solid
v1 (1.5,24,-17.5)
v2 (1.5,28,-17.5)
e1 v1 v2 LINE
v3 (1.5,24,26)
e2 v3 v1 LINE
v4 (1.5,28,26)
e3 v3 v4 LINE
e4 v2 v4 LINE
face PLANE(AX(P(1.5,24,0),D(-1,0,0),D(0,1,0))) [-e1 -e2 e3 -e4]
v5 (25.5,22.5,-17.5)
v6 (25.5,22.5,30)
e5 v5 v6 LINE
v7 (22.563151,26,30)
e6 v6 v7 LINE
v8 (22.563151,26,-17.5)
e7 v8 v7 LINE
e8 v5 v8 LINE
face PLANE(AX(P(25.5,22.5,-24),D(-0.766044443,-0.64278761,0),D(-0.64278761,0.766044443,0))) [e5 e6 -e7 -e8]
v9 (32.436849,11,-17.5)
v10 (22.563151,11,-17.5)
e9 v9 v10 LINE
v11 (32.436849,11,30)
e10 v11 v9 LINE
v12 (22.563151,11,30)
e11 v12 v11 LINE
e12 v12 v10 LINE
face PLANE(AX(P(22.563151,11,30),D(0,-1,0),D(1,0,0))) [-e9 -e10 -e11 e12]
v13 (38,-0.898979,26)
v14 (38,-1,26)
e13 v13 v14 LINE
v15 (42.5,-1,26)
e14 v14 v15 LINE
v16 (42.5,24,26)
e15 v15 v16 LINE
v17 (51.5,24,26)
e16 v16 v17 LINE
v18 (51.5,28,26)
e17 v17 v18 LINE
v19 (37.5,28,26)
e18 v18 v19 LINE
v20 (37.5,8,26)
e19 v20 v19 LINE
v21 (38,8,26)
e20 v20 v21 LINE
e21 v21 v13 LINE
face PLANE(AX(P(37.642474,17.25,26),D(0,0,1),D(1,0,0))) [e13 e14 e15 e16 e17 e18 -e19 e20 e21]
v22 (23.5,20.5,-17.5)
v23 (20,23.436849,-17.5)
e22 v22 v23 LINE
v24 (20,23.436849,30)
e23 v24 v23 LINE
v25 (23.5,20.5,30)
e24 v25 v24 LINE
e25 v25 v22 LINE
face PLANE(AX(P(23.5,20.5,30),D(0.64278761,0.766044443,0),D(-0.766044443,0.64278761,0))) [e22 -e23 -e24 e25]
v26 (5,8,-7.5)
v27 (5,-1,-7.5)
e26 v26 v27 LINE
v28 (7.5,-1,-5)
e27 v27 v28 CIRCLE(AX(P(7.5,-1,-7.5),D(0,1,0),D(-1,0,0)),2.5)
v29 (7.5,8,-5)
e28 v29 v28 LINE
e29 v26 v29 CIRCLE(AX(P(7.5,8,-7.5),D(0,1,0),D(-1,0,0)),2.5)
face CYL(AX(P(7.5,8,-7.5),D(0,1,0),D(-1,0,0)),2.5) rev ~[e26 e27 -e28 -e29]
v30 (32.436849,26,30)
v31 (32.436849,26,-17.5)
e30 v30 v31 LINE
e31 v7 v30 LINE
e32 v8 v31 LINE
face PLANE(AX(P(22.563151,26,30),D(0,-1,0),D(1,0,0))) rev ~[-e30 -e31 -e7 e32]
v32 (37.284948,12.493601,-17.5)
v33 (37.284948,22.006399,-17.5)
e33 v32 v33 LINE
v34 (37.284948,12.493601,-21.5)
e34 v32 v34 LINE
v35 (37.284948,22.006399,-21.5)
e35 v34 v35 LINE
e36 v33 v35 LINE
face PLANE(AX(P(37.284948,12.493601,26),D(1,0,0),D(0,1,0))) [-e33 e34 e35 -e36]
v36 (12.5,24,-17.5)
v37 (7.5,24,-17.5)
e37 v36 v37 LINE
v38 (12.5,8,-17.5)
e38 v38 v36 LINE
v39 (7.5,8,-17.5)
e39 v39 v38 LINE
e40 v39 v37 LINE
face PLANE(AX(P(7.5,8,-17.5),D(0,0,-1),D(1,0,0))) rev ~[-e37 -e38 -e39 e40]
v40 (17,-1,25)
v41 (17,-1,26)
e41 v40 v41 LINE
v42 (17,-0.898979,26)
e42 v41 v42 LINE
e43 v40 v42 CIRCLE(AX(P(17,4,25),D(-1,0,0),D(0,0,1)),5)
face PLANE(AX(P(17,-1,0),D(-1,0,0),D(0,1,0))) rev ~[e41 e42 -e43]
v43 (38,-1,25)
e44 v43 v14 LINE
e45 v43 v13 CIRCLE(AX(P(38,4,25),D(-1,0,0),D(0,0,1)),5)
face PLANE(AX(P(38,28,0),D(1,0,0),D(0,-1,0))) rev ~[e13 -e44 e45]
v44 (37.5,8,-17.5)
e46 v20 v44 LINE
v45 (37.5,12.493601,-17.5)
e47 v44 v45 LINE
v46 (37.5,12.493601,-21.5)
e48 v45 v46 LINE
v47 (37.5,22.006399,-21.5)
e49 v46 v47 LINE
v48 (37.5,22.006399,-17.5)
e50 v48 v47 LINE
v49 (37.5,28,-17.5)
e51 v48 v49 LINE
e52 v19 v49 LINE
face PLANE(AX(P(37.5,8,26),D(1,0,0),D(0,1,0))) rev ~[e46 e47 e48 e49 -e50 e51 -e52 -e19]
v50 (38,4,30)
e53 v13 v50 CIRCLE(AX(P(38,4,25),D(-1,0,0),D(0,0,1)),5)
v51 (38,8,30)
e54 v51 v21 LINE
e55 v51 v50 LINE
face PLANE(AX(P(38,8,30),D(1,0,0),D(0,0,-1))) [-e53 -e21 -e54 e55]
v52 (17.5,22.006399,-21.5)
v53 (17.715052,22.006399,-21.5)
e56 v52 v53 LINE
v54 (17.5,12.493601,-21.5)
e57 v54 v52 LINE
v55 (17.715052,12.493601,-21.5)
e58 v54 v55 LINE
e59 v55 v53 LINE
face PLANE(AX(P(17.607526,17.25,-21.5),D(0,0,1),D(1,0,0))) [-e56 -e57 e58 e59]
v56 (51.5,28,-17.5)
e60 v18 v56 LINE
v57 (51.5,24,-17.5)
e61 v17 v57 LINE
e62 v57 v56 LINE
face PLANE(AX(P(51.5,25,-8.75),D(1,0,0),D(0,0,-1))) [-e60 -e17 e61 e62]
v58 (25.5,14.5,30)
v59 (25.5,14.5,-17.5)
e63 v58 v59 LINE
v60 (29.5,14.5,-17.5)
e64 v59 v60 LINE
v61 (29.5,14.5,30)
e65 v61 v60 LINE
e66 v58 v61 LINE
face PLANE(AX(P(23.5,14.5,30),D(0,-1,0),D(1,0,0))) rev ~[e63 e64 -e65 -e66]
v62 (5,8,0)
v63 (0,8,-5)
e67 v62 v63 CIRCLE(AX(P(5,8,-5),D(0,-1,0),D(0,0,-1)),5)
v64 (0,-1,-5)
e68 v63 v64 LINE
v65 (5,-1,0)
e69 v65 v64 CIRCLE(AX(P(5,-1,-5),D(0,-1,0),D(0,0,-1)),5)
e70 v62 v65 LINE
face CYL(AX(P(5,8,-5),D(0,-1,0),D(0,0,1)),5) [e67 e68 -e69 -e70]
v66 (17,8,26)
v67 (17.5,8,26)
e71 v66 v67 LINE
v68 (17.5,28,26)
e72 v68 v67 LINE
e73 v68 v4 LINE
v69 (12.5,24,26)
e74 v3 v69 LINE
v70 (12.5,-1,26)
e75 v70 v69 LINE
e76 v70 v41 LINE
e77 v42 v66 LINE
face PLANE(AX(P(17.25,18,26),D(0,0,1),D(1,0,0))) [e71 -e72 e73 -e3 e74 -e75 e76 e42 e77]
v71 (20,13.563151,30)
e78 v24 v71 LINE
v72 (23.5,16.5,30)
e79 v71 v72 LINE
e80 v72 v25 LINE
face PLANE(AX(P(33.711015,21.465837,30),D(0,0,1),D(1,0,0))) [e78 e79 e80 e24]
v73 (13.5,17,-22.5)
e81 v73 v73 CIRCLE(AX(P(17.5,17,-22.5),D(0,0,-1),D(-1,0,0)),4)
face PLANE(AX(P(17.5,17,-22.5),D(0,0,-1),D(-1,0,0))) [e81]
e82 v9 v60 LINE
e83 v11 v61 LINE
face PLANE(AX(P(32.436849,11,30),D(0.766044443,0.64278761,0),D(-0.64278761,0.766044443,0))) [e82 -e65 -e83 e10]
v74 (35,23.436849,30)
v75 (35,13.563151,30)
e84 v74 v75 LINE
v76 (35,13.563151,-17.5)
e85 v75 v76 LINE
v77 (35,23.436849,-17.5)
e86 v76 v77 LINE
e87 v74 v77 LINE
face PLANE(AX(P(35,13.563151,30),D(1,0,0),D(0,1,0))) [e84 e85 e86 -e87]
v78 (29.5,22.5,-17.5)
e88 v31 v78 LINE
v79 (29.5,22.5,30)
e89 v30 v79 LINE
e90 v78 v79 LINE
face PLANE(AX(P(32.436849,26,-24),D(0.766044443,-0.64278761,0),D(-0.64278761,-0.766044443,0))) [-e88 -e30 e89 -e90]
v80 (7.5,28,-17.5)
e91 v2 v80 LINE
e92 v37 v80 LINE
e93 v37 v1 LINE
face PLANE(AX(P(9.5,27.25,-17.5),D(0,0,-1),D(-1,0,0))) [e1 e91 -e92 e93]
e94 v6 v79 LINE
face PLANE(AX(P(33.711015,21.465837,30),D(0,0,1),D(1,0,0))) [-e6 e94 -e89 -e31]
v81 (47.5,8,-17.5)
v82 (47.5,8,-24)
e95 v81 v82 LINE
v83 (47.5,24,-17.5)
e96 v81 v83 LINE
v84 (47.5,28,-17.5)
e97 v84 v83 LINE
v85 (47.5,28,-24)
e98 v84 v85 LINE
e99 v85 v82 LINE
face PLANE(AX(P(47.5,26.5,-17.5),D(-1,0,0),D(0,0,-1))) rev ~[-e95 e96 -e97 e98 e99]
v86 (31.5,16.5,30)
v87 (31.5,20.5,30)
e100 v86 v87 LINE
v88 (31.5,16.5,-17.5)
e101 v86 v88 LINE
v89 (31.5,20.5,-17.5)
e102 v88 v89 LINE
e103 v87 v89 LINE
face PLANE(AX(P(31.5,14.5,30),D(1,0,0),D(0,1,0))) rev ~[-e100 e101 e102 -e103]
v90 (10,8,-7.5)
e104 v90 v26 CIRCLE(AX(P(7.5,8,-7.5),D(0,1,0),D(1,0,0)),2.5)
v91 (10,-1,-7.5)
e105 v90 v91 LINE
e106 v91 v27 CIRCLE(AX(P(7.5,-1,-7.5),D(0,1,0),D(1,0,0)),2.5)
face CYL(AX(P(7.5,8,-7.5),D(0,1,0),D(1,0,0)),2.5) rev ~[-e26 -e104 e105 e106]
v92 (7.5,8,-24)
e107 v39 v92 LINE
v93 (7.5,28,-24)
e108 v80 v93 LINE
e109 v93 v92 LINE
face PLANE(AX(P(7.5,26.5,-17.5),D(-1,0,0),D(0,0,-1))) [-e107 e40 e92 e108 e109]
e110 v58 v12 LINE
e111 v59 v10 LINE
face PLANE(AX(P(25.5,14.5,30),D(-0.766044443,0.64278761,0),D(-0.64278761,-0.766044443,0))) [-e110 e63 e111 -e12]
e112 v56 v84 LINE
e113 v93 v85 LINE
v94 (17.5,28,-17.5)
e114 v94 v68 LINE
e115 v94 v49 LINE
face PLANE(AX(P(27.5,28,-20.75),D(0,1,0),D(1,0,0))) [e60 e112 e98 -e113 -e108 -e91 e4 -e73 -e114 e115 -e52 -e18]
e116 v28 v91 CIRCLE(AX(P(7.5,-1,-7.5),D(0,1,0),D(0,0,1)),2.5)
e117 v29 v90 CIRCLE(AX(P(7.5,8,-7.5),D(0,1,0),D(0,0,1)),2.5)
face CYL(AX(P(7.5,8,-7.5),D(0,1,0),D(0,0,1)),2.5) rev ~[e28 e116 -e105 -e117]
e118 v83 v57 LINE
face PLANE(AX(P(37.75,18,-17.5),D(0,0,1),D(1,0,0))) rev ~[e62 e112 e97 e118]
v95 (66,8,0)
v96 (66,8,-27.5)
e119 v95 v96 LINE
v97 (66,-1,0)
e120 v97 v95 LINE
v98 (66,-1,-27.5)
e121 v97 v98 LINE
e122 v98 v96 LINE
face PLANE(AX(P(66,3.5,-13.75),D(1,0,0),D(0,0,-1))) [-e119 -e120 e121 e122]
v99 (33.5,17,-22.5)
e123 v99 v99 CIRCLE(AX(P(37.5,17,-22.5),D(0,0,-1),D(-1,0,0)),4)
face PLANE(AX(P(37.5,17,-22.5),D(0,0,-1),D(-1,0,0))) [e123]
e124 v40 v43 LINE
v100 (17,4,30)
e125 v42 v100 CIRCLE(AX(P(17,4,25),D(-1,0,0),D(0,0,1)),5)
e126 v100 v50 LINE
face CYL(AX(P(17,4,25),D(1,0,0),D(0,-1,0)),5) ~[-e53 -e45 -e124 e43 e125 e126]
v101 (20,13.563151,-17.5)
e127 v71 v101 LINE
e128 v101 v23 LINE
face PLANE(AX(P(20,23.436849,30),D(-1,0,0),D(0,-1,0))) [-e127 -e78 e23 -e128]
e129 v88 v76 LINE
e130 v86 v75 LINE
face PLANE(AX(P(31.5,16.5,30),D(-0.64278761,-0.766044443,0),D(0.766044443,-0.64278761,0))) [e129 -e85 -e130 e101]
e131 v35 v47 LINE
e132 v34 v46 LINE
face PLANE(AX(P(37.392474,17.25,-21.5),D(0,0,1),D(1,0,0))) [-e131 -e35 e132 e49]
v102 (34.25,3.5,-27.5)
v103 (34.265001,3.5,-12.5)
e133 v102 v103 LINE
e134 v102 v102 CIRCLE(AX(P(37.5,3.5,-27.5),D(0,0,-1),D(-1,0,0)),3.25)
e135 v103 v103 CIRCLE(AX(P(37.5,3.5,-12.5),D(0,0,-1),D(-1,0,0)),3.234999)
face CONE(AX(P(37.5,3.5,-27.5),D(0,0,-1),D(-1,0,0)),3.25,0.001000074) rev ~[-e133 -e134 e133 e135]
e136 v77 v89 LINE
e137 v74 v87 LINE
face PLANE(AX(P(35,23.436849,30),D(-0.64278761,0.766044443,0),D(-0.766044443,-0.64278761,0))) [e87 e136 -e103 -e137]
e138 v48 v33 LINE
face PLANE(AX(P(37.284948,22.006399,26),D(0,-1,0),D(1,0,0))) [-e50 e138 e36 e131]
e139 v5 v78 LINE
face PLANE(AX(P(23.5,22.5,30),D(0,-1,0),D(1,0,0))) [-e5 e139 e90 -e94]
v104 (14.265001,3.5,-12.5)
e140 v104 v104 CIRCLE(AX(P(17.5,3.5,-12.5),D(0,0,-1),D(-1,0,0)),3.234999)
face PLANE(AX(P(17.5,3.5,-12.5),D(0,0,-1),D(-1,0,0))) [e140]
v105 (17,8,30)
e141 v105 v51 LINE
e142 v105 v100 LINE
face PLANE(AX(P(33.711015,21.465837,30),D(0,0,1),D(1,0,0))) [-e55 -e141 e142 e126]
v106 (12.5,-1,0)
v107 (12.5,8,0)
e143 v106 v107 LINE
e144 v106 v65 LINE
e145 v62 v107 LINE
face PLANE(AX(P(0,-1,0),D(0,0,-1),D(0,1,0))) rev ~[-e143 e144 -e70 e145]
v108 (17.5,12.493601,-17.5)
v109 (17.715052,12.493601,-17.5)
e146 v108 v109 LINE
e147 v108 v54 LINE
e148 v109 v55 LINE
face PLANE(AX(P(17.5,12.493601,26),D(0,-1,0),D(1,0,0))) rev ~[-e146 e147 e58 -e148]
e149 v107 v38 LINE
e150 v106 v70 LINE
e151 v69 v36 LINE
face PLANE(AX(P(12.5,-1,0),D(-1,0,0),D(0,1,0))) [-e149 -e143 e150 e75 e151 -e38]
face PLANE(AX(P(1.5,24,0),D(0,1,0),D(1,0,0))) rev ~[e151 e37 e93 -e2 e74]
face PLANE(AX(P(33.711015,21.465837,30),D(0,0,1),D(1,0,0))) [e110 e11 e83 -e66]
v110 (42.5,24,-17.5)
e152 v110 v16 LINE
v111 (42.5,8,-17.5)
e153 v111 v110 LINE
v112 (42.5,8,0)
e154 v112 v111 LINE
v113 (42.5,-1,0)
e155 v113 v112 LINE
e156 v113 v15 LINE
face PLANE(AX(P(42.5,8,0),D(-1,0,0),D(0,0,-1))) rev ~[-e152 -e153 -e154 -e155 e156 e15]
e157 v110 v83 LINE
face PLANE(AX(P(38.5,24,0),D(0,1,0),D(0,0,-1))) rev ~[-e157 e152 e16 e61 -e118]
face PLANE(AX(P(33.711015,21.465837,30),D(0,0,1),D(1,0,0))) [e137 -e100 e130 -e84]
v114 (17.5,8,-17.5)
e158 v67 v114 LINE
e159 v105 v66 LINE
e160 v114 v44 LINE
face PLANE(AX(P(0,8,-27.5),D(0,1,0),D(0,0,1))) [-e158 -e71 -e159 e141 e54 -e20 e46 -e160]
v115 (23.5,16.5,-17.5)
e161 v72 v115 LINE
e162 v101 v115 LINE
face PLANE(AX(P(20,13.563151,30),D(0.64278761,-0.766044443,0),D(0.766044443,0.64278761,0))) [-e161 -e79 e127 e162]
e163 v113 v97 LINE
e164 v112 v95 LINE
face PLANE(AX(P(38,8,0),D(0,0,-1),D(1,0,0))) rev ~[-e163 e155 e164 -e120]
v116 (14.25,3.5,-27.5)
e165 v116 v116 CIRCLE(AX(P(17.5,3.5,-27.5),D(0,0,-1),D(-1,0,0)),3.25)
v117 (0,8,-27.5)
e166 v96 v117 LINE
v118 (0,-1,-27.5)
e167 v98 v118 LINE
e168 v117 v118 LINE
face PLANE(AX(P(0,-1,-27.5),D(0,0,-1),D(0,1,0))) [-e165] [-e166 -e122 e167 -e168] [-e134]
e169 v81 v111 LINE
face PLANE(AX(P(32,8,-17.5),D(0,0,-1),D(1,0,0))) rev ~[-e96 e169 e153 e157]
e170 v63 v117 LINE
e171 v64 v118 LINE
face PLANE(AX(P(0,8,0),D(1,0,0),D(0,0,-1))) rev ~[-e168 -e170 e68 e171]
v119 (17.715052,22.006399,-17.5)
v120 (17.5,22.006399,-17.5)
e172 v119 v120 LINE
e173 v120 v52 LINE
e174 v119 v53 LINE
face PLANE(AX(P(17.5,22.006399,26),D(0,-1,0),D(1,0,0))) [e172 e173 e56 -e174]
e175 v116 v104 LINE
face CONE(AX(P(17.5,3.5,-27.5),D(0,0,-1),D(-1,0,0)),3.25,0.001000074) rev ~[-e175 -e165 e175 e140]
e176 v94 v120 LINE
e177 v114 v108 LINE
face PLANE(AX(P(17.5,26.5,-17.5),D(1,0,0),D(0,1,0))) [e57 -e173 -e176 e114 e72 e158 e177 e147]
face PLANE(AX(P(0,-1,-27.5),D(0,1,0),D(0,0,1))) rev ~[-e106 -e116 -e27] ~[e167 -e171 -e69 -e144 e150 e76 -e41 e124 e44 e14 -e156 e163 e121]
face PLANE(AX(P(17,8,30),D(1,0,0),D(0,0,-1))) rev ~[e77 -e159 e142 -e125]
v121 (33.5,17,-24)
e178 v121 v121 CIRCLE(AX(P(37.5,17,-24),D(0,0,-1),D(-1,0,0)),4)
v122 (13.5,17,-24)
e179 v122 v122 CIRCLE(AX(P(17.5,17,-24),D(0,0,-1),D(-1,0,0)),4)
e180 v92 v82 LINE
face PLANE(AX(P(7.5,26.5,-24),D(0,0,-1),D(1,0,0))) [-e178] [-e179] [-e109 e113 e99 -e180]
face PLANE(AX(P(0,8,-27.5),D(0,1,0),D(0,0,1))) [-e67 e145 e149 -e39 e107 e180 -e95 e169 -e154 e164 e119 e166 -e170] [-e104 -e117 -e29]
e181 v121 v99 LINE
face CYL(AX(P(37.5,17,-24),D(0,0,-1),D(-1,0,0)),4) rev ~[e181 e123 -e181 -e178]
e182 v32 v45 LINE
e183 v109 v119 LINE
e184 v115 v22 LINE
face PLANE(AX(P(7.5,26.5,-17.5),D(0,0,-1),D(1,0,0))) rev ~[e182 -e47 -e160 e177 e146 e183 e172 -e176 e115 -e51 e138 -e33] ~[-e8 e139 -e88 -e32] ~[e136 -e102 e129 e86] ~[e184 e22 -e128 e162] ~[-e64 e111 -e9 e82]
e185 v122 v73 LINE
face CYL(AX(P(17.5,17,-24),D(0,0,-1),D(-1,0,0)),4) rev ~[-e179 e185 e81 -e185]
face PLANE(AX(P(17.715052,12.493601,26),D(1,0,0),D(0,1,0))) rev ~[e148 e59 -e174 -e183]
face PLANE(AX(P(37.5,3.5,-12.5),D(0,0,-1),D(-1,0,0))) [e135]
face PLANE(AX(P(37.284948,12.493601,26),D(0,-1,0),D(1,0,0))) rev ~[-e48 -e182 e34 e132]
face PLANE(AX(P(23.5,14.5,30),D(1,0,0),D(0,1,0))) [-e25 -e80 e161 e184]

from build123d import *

# Parameters (mm, degrees)
BOSS_EXTRUDE2_DEPTH          = 8
BOSS_EXTRUDE2_DEPTH_BACK     = 1
SKETCH1_R                    = 2.5
CUT_EXTRUDE1_DEPTH           = 79.300702423
CUT_EXTRUDE1_DEPTH_BACK      = 79.300702423
SKETCH2_R                    = 2.5
SKETCH3_R                    = 3.25
CUT_EXTRUDE5_DEPTH           = 15
CUT_EXTRUDE5_DRAFT           = -0.0573
CUT_EXTRUDE5_PROFILE_2_DEPTH = 15
CUT_EXTRUDE5_PROFILE_2_DRAFT = -0.0573
SKETCH5_W                    = 4.5
SKETCH5_H                    = 6.5
BOSS_EXTRUDE3_DEPTH          = 14.5
SKETCH6_R                    = 4
CUT_EXTRUDE4_DEPTH           = 1.5
SKETCH12_W                   = 10.5
SKETCH12_H                   = 30
BOSS_EXTRUDE7_DEPTH          = 9
SKETCH15_W                   = 9
SKETCH15_H                   = 6.5
BOSS_EXTRUDE8_DEPTH          = 3.5
BOSS_EXTRUDE9_DEPTH          = 54
FILLET4_R                    = 5
SKETCH18_W                   = 9.873697418
SKETCH18_H                   = 6.5
BOSS_EXTRUDE11_DEPTH         = 0.5
SKETCH20_W                   = 4
SKETCH20_H                   = 17.5
BOSS_EXTRUDE12_DEPTH         = 18
BOSS_EXTRUDE13_DEPTH         = 11
BOSS_EXTRUDE13_DEPTH_BACK    = 4
SKETCH22_W                   = 17.5
SKETCH22_H                   = 4
SKETCH25_W                   = 2
SKETCH25_H                   = 17.5
BOSS_EXTRUDE14_DEPTH         = 41
SKETCH28_W                   = 41
SKETCH28_H                   = 45
BOSS_EXTRUDE15_DEPTH         = 2
SKETCH29_R                   = 1.75
CUT_EXTRUDE8_DEPTH           = 9
BOSS_EXTRUDE16_DEPTH         = 9
BOSS_EXTRUDE16_DEPTH_BACK    = 4
SKETCH30_W                   = 17.5
SKETCH30_H                   = 2
CUT_EXTRUDE9_DEPTH           = 9
SKETCH32_W                   = 13
SKETCH32_H                   = 4
BOSS_EXTRUDE17_DEPTH         = 23.5
SKETCH33_W                   = 0.5
SKETCH33_H                   = 17.5
BOSS_EXTRUDE18_DEPTH         = 20
SKETCH34_W                   = 4.5
SKETCH34_H                   = 25
SKETCH34_W_2                 = 15.5
SKETCH34_H_2                 = 4
SKETCH34_W_3                 = 9
BOSS_EXTRUDE19_DEPTH         = 26
SKETCH35_W                   = 9.873697418
SKETCH35_H                   = 0.5
BOSS_EXTRUDE20_DEPTH         = 47.5
BOSS_EXTRUDE21_DEPTH         = 47.5
SKETCH38_W                   = 0.419549816
SKETCH38_H                   = 18.5
CUT_EXTRUDE10_DEPTH          = 90.5
SKETCH39_W                   = 4
SKETCH39_H                   = 4
BOSS_EXTRUDE23_DEPTH         = 47.5
SKETCH46_W                   = 22.5
SKETCH46_H                   = 9
SKETCH46_W_2                 = 5
BOSS_EXTRUDE26_DEPTH         = 11.5
SKETCH47_W                   = 27.5
SKETCH47_H                   = 9
BOSS_EXTRUDE27_DEPTH         = 11
SKETCH48_W                   = 5
SKETCH48_H                   = 6.5
BOSS_EXTRUDE31_DEPTH         = 18.5
SKETCH50_R                   = 4
CUT_EXTRUDE11_DEPTH          = 1.5
SKETCH51_W                   = 9.626242636
SKETCH51_H                   = 9.125298808
BOSS_EXTRUDE32_DEPTH         = 1.5
BOSS_EXTRUDE35_DEPTH         = 47.5
SKETCH55_W                   = 9.873697418
SKETCH55_H                   = 0.5
CUT_EXTRUDE12_DEPTH          = 47.5
SKETCH56_W                   = 0.5
SKETCH56_H                   = 20
BOSS_EXTRUDE36_DEPTH         = 43.5
BOSS_EXTRUDE37_DEPTH         = 47.5
SKETCH58_W                   = 0.715052156
SKETCH58_H                   = 9.51279705
CUT_EXTRUDE13_DEPTH          = 4
CUT_EXTRUDE15_DEPTH          = 47.5
SKETCH60_W                   = 0.215052156
SKETCH60_H                   = 9.51279705
CUT_EXTRUDE16_DEPTH          = 47.5
CUT_EXTRUDE17_DEPTH          = 47.5
SKETCH62_W                   = 8
SKETCH62_H                   = 8
CUT_EXTRUDE18_DEPTH          = 47.5
SKETCH63_W                   = 13
SKETCH63_H                   = 4
CUT_EXTRUDE20_DEPTH          = 17
SKETCH64_W                   = 1
SKETCH64_H                   = 1.5
BOSS_EXTRUDE38_DEPTH         = 6.5
CUT_EXTRUDE22_DEPTH          = 9
FILLET6_R                    = 5
BOSS_EXTRUDE39_DEPTH         = 11
BOSS_EXTRUDE39_DEPTH_BACK    = 10
SKETCH67_W                   = 27.5
SKETCH67_H                   = 9
SKETCH68_W                   = 2
SKETCH68_H                   = 45
CUT_EXTRUDE23_DEPTH          = 17
SKETCH69_W                   = 2
SKETCH69_H                   = 41
CUT_EXTRUDE24_DEPTH          = 37
SKETCH70_W                   = 6
SKETCH70_H                   = 2.5
CUT_EXTRUDE25_DEPTH          = 6.5
SKETCH71_W                   = 40
SKETCH71_H                   = 6.5
BOSS_EXTRUDE40_DEPTH         = 1.5


with BuildPart() as part:
    # Sketch1 → Boss-Extrude2 (new, two sides: drawn at the far end of the back side and taken through both)
    with BuildSketch(Plane(origin=(0, 0, 0), x_dir=(1, 0, 0), z_dir=(0, 1, 0)).offset(-BOSS_EXTRUDE2_DEPTH_BACK)):
        with BuildLine():
            Line((5, 0), (50, 0))
            ThreePointArc((50, 0), (53.535533906, 1.464466094), (55, 5))
            Line((55, 5), (55, 50))
            ThreePointArc((55, 50), (53.535533906, 53.535533906), (50, 55))
            Line((50, 55), (5, 55))
            ThreePointArc((5, 55), (1.464466094, 53.535533906), (0, 50))
            Line((0, 50), (0, 5))
            ThreePointArc((0, 5), (1.464466094, 1.464466094), (5, 0))
        make_face()
        with Locations(Location((7.5, 47.5, 0), (0, 0, 270))):
            Circle(SKETCH1_R, mode=Mode.SUBTRACT)
        with Locations(Location((47.5, 47.5, 0), (0, 0, 270))):
            Circle(SKETCH1_R, mode=Mode.SUBTRACT)
        with Locations(Location((47.5, 7.5, 0), (0, 0, 270))):
            Circle(SKETCH1_R, mode=Mode.SUBTRACT)
        with Locations(Location((7.5, 7.5, 0), (0, 0, 270))):
            Circle(SKETCH1_R, mode=Mode.SUBTRACT)
    extrude(amount=BOSS_EXTRUDE2_DEPTH + BOSS_EXTRUDE2_DEPTH_BACK)

    # Sketch2 → Cut-Extrude1 (cut, two sides: drawn at the far end of the back side and taken through both)
    with BuildSketch(Plane(origin=(0, 8, 0), x_dir=(1, 0, 0), z_dir=(0, 1, 0)).offset(-CUT_EXTRUDE1_DEPTH_BACK)):
        with BuildLine():
            Line((0, 50), (0, 27.5))
            Line((0, 27.5), (55, 27.5))
            Line((55, 27.5), (55, 50))
            ThreePointArc((55, 50), (53.535533906, 53.535533906), (50, 55))
            Line((50, 55), (5, 55))
            ThreePointArc((5, 55), (1.464466094, 53.535533906), (0, 50))
        make_face()
        with Locations((7.5, 47.5)):
            Circle(SKETCH2_R, mode=Mode.SUBTRACT)
        with Locations((47.5, 47.5)):
            Circle(SKETCH2_R, mode=Mode.SUBTRACT)
    extrude(amount=CUT_EXTRUDE1_DEPTH + CUT_EXTRUDE1_DEPTH_BACK, mode=Mode.SUBTRACT)


with BuildPart() as cut_extrude5_tool:
    # Sketch3 → Cut-Extrude5 (with draft: the straight prism first)
    with BuildSketch(Plane(origin=(0, 0, -27.5), x_dir=(-1, 0, 0), z_dir=(0, 0, -1))):
        with Locations((-37.5, 3.5)):
            Circle(SKETCH3_R)
    extrude(amount=-CUT_EXTRUDE5_DEPTH)
    # Cut-Extrude5: the draft: its side faces are tilted about the plane it starts from
    cut_extrude5_sides = [cut_extrude5_tool.faces().sort_by_distance(p)[0] for p in [
        (40.75, 3.5, -20),
    ]]
    draft(cut_extrude5_sides, Plane(origin=(0, 0, -27.5), x_dir=(-1, 0, 0), z_dir=(0, 0, -1)), CUT_EXTRUDE5_DRAFT)


with BuildPart() as part_1:
    add(part.part)

    # Cut-Extrude5: cut by cut_extrude5_tool
    add(cut_extrude5_tool.part, mode=Mode.SUBTRACT)


with BuildPart() as cut_extrude5_profile_2_tool:
    # Sketch3 → Cut-Extrude5 profile 2 (with draft: the straight prism first)
    with BuildSketch(Plane(origin=(0, 0, -27.5), x_dir=(-1, 0, 0), z_dir=(0, 0, -1))):
        with Locations((-17.5, 3.5)):
            Circle(SKETCH3_R)
    extrude(amount=-CUT_EXTRUDE5_PROFILE_2_DEPTH)
    # Cut-Extrude5 profile 2: the draft: its side faces are tilted about the plane it starts from
    cut_extrude5_profile_2_sides = [cut_extrude5_profile_2_tool.faces().sort_by_distance(p)[0] for p in [
        (20.75, 3.5, -20),
    ]]
    draft(cut_extrude5_profile_2_sides, Plane(origin=(0, 0, -27.5), x_dir=(-1, 0, 0), z_dir=(0, 0, -1)), CUT_EXTRUDE5_PROFILE_2_DRAFT)


with BuildPart() as part_2:
    add(part_1.part)

    # Cut-Extrude5 profile 2: cut by cut_extrude5_profile_2_tool
    add(cut_extrude5_profile_2_tool.part, mode=Mode.SUBTRACT)

    # Sketch5 → Boss-Extrude3 (add)
    with BuildSketch(Plane(origin=(0, 8, 0), x_dir=(1, 0, 0), z_dir=(0, 1, 0))):
        with Locations((25.25, 20.75)):
            Rectangle(SKETCH5_W, SKETCH5_H)
        with Locations((29.75, 20.75)):
            Rectangle(SKETCH5_W, SKETCH5_H)
    extrude(amount=BOSS_EXTRUDE3_DEPTH)

    # Sketch6 → Cut-Extrude4 (cut)
    with BuildSketch(Plane(origin=(0, 0, -24), x_dir=(-1, 0, 0), z_dir=(0, 0, -1))):
        with Locations((-27.5, 17)):
            Circle(SKETCH6_R)
    extrude(amount=-CUT_EXTRUDE4_DEPTH, mode=Mode.SUBTRACT)

    # Sketch12 → Boss-Extrude7 (add)
    with BuildSketch(Plane(origin=(0, 8, 0), x_dir=(1, 0, 0), z_dir=(0, 1, 0))):
        with Locations((32.75, -15)):
            Rectangle(SKETCH12_W, SKETCH12_H)
        with Locations((22.25, -15)):
            Rectangle(SKETCH12_W, SKETCH12_H)
    extrude(amount=-BOSS_EXTRUDE7_DEPTH)

    # Sketch15 → Boss-Extrude8 (add)
    with BuildSketch(Plane(origin=(0, 22.5, 0), x_dir=(1, 0, 0), z_dir=(0, 1, 0))):
        with Locations((27.5, 20.75)):
            Rectangle(SKETCH15_W, SKETCH15_H)
    extrude(amount=BOSS_EXTRUDE8_DEPTH)

    # Sketch11 → Boss-Extrude9 (add)
    with BuildSketch(Plane(origin=(0, 0, -24), x_dir=(-1, 0, 0), z_dir=(0, 0, -1))):
        Polygon((-32.436848709, 26), (-29.5, 22.5), (-29.5, 26), align=None)
        Polygon((-29.5, 22.5), (-27.5, 22.5), (-25.5, 22.5), (-25.5, 26), (-29.5, 26), align=None)
        Polygon((-25.5, 26), (-25.5, 22.5), (-22.563151291, 26), align=None)
    extrude(amount=-BOSS_EXTRUDE9_DEPTH)

    # Fillet4
    fillet4_edges = [part_2.edges().sort_by_distance(p)[0] for p in [
        (27.5, -1, 30),
    ]]
    fillet(fillet4_edges, radius=FILLET4_R)

    # Sketch18 → Boss-Extrude11 (add)
    with BuildSketch(Plane(origin=(0, 26, 0), x_dir=(1, 0, 0), z_dir=(0, 1, 0))):
        with Locations((27.5, 20.75)):
            Rectangle(SKETCH18_W, SKETCH18_H)
    extrude(amount=BOSS_EXTRUDE11_DEPTH)

    # Sketch20 → Boss-Extrude12 (add)
    with BuildSketch(Plane(origin=(0, 8, 0), x_dir=(1, 0, 0), z_dir=(0, 1, 0))):
        with Locations((14.5, 8.75)):
            Rectangle(SKETCH20_W, SKETCH20_H)
        with Locations((40.5, 8.75)):
            Rectangle(SKETCH20_W, SKETCH20_H)
    extrude(amount=BOSS_EXTRUDE12_DEPTH)

    # Sketch22 → Boss-Extrude13 (add, two sides: drawn at the far end of the back side and taken through both)
    with BuildSketch(Plane.ZY.offset(-12.5).offset(-BOSS_EXTRUDE13_DEPTH_BACK)):
        with Locations((-8.75, 26)):
            Rectangle(SKETCH22_W, SKETCH22_H)
    extrude(amount=BOSS_EXTRUDE13_DEPTH + BOSS_EXTRUDE13_DEPTH_BACK)

    # Sketch25 → Boss-Extrude14 (add)
    with BuildSketch(Plane(origin=(0, 28, 0), x_dir=(1, 0, 0), z_dir=(0, 1, 0))):
        with Locations((2.5, 8.75)):
            Rectangle(SKETCH25_W, SKETCH25_H)
    extrude(amount=BOSS_EXTRUDE14_DEPTH)

    # Sketch28 → Boss-Extrude15 (add)
    with BuildSketch(Plane.ZY.offset(-1.5)):
        with Locations((-20.5, 46.5)):
            Rectangle(SKETCH28_W, SKETCH28_H)
    extrude(amount=-BOSS_EXTRUDE15_DEPTH)

    # Sketch29 → Cut-Extrude8 (cut)
    with BuildSketch(Plane.ZY.offset(-1.5)):
        with Locations((-36, 33)):
            Circle(SKETCH29_R)
        with Locations((-5, 64)):
            Circle(SKETCH29_R)
        with Locations((-5, 33)):
            Circle(SKETCH29_R)
        with Locations((-36, 64)):
            Circle(SKETCH29_R)
    extrude(amount=-CUT_EXTRUDE8_DEPTH, mode=Mode.SUBTRACT)

    # Sketch30 → Boss-Extrude16 (add, two sides: drawn at the far end of the back side and taken through both)
    with BuildSketch(Plane(origin=(42.5, 0, 0), x_dir=(0, 0, -1), z_dir=(1, 0, 0)).offset(-BOSS_EXTRUDE16_DEPTH_BACK)):
        with Locations((8.75, 25)):
            Rectangle(SKETCH30_W, SKETCH30_H)
        with Locations((8.75, 27)):
            Rectangle(SKETCH30_W, SKETCH30_H)
    extrude(amount=BOSS_EXTRUDE16_DEPTH + BOSS_EXTRUDE16_DEPTH_BACK)

    # Sketch31 → Cut-Extrude9 (cut)
    with BuildSketch(Plane(origin=(3.5, 0, 0), x_dir=(0, 0, -1), z_dir=(1, 0, 0))):
        with BuildLine():
            ThreePointArc((30.5, 47), (27.571067812, 54.071067812), (20.5, 57))
            Line((20.5, 57), (20.5, 47))
            Line((20.5, 47), (30.5, 47))
        make_face()
        with BuildLine():
            Line((20.5, 47), (20.5, 57))
            ThreePointArc((20.5, 57), (13.428932188, 39.928932188), (30.5, 47))
            Line((30.5, 47), (20.5, 47))
        make_face()
    extrude(amount=-CUT_EXTRUDE9_DEPTH, mode=Mode.SUBTRACT)

    # Sketch32 → Boss-Extrude17 (add)
    with BuildSketch(Plane(origin=(0, 0, -17.5), x_dir=(-1, 0, 0), z_dir=(0, 0, -1))):
        with Locations((-10, 26)):
            Rectangle(SKETCH32_W, SKETCH32_H)
    extrude(amount=BOSS_EXTRUDE17_DEPTH)

    # Sketch33 → Boss-Extrude18 (add)
    with BuildSketch(Plane(origin=(0, 8, 0), x_dir=(1, 0, 0), z_dir=(0, 1, 0))):
        with Locations((38.25, 8.75)):
            Rectangle(SKETCH33_W, SKETCH33_H)
        with Locations((16.75, 8.75)):
            Rectangle(SKETCH33_W, SKETCH33_H)
    extrude(amount=BOSS_EXTRUDE18_DEPTH)

    # Sketch34 → Boss-Extrude19 (add)
    with BuildSketch(Plane.XY):
        with Locations((14.75, 11.5)):
            Rectangle(SKETCH34_W, SKETCH34_H)
        with Locations((9.25, 26)):
            Rectangle(SKETCH34_W_2, SKETCH34_H_2)
        Polygon((42.5, 24), (42.5, 28), (38, 28), (38, 8), (38, -1), (42.5, -1), (42.5, 8), align=None)
        with Locations((47, 26)):
            Rectangle(SKETCH34_W_3, SKETCH34_H_2)
    extrude(amount=BOSS_EXTRUDE19_DEPTH)

    # Sketch35 → Boss-Extrude20 (add)
    with BuildSketch(Plane.XY.offset(-17.5)):
        with Locations((27.5, 26.25)):
            Rectangle(SKETCH35_W, SKETCH35_H)
    extrude(amount=BOSS_EXTRUDE20_DEPTH)

    # Sketch37 → Boss-Extrude21 (add)
    with BuildSketch(Plane.XY.offset(-17.5)):
        Polygon((23, 8), (25.5, 8), (25.5, 12), (23, 9.020616019), align=None)
        Polygon((25.5, 8), (27.5, 8), (29.5, 8), (29.5, 12), (25.5, 12), align=None)
        Polygon((29.5, 12), (29.5, 8), (32, 8), (32, 9.020616019), align=None)
        Polygon((29.5, 8), (27.5, 8), (25.5, 8), (23, 8), (23, 9.020616019), (21.863844179, 7.666598237), (33.136155821, 7.666598237), (32, 9.020616019), (32, 8), align=None)
    extrude(amount=BOSS_EXTRUDE21_DEPTH)

    # Sketch38 → Cut-Extrude10 (cut)
    with BuildSketch(Plane.XY.offset(30)):
        with Locations((22.353376383, 17.25)):
            Rectangle(SKETCH38_W, SKETCH38_H)
        with Locations((32.646623617, 17.25)):
            Rectangle(SKETCH38_W, SKETCH38_H)
    extrude(amount=-CUT_EXTRUDE10_DEPTH, mode=Mode.SUBTRACT)

    # Sketch39 → Boss-Extrude23 (add)
    with BuildSketch(Plane.XY.offset(30)):
        Polygon((21, 19.25), (17.715052156, 22.006398525), (17, 22.006398525), (17, 19.25), align=None)
        with Locations((19, 17.25)):
            Rectangle(SKETCH39_W, SKETCH39_H)
        Polygon((17.715052156, 12.493601475), (21, 15.25), (17, 15.25), (17, 12.493601475), align=None)
        Polygon((37.284947844, 12.493601475), (38, 12.493601475), (38, 15.25), (34, 15.25), align=None)
        Polygon((38, 17.25), (38, 19.25), (34, 19.25), (34, 15.25), (38, 15.25), align=None)
        Polygon((38, 19.25), (38, 22.006398525), (37.284947844, 22.006398525), (34, 19.25), align=None)
    extrude(amount=-BOSS_EXTRUDE23_DEPTH)

    # Sketch46 → Boss-Extrude26 (add)
    with BuildSketch(Plane.ZY):
        with Locations((-16.25, 3.5)):
            Rectangle(SKETCH46_W, SKETCH46_H)
        with Locations((-2.5, 3.5)):
            Rectangle(SKETCH46_W_2, SKETCH46_H)
    extrude(amount=-BOSS_EXTRUDE26_DEPTH)

    # Sketch47 → Boss-Extrude27 (add)
    with BuildSketch(Plane.ZY):
        with Locations((-13.75, 3.5)):
            Rectangle(SKETCH47_W, SKETCH47_H)
    extrude(amount=BOSS_EXTRUDE27_DEPTH)

    # Sketch48 → Boss-Extrude31 (add)
    with BuildSketch(Plane(origin=(0, 8, 0), x_dir=(1, 0, 0), z_dir=(0, 1, 0))):
        Polygon((42.5, 17.5), (42.5, 24), (32, 24), (32, 17.5), (32.436848709, 17.5), (38, 17.5), align=None)
        with Locations((45, 20.75)):
            Rectangle(SKETCH48_W, SKETCH48_H)
        Polygon((12.5, 24), (12.5, 17.5), (17, 17.5), (22.563151291, 17.5), (23, 17.5), (23, 24), align=None)
        with Locations((10, 20.75)):
            Rectangle(SKETCH48_W, SKETCH48_H)
    extrude(amount=BOSS_EXTRUDE31_DEPTH)

    # Sketch50 → Cut-Extrude11 (cut)
    with BuildSketch(Plane(origin=(0, 0, -24), x_dir=(-1, 0, 0), z_dir=(0, 0, -1))):
        with Locations((-17.5, 17)):
            Circle(SKETCH50_R)
        with Locations((-37.5, 17)):
            Circle(SKETCH50_R)
    extrude(amount=-CUT_EXTRUDE11_DEPTH, mode=Mode.SUBTRACT)

    # Sketch51 → Boss-Extrude32 (add)
    with BuildSketch(Plane(origin=(0, 0, -24), x_dir=(-1, 0, 0), z_dir=(0, 0, -1))):
        with Locations((-27.646184708, 17.114099589)):
            Rectangle(SKETCH51_W, SKETCH51_H)
    extrude(amount=-BOSS_EXTRUDE32_DEPTH)

    # Sketch54 → Boss-Extrude35 (add)
    with BuildSketch(Plane.XY.offset(-17.5)):
        Polygon((29.5, 22.5), (27.5, 22.5), (27.5, 14.5), (31.5, 14.5), (31.5, 22.5), align=None)
        Polygon((27.5, 14.5), (27.5, 22.5), (25.5, 22.5), (23.5, 22.5), (23.5, 14.5), align=None)
    extrude(amount=BOSS_EXTRUDE35_DEPTH)

    # Sketch55 → Cut-Extrude12 (cut)
    with BuildSketch(Plane.XY.offset(30)):
        with Locations((27.5, 26.25)):
            Rectangle(SKETCH55_W, SKETCH55_H)
    extrude(amount=-CUT_EXTRUDE12_DEPTH, mode=Mode.SUBTRACT)

    # Sketch56 → Boss-Extrude36 (add)
    with BuildSketch(Plane.XY.offset(26)):
        with Locations((37.75, 18)):
            Rectangle(SKETCH56_W, SKETCH56_H)
        with Locations((17.25, 18)):
            Rectangle(SKETCH56_W, SKETCH56_H)
    extrude(amount=-BOSS_EXTRUDE36_DEPTH)

    # Sketch57 → Boss-Extrude37 (add)
    with BuildSketch(Plane.XY.offset(30)):
        Polygon((35, 23.436848709), (31.5, 20.5), (31.5, 20.428787517), (35, 20.428787517), align=None)
        Polygon((35, 20.428787517), (31.5, 20.428787517), (31.5, 18.5), (35, 18.5), (35, 18.535606241), align=None)
        Polygon((35, 18.5), (31.5, 18.5), (31.5, 16.5), (35, 16.5), (35, 18.464393759), align=None)
        Polygon((35, 16.5), (31.5, 16.5), (35, 13.563151291), align=None)
        Polygon((32.436848709, 11), (29.5, 14.5), (25.5, 14.5), (22.563151291, 11), align=None)
        Polygon((20, 16.5), (23.5, 16.5), (23.5, 18.5), (23.5, 20.5), (20, 23.436848709), (20, 18.535606241), (20, 18.464393759), align=None)
        Polygon((20, 13.563151291), (23.5, 16.5), (20, 16.5), align=None)
    extrude(amount=-BOSS_EXTRUDE37_DEPTH)

    # Sketch58 → Cut-Extrude13 (cut)
    with BuildSketch(Plane.XY.offset(30)):
        with Locations((37.642473922, 17.25)):
            Rectangle(SKETCH58_W, SKETCH58_H)
        with Locations((17.357526078, 17.25)):
            Rectangle(SKETCH58_W, SKETCH58_H)
    extrude(amount=-CUT_EXTRUDE13_DEPTH, mode=Mode.SUBTRACT)

    # Sketch59 → Cut-Extrude15 (cut)
    with BuildSketch(Plane.XY.offset(30)):
        Polygon((37.284947844, 22.006398525), (35, 20.089099631), (35, 14.410900369), (37.284947844, 12.493601475), align=None)
        Polygon((17.715052156, 22.006398525), (20, 20.089099631), (20, 14.410900369), (17.715052156, 12.493601475), align=None)
    extrude(amount=-CUT_EXTRUDE15_DEPTH, mode=Mode.SUBTRACT)

    # Sketch60 → Cut-Extrude16 (cut)
    with BuildSketch(Plane.XY.offset(26)):
        with Locations((37.392473922, 17.25)):
            Rectangle(SKETCH60_W, SKETCH60_H)
        with Locations((17.607526078, 17.25)):
            Rectangle(SKETCH60_W, SKETCH60_H)
    extrude(amount=-CUT_EXTRUDE16_DEPTH, mode=Mode.SUBTRACT)

    # Sketch61 → Cut-Extrude17 (cut)
    with BuildSketch(Plane.XY.offset(30)):
        Polygon((32.436848709, 8), (22.563151291, 8), (22.563151291, 8.5), (24.660900369, 11), (30.339099631, 11), (32.436848709, 8.5), align=None)
    extrude(amount=-CUT_EXTRUDE17_DEPTH, mode=Mode.SUBTRACT)

    # Sketch62 → Cut-Extrude18 (cut)
    with BuildSketch(Plane.XY.offset(30)):
        with Locations((27.5, 18.5)):
            Rectangle(SKETCH62_W, SKETCH62_H)
    extrude(amount=-CUT_EXTRUDE18_DEPTH, mode=Mode.SUBTRACT)

    # Sketch63 → Cut-Extrude20 (cut)
    with BuildSketch(Plane(origin=(0, 0, -41), x_dir=(-1, 0, 0), z_dir=(0, 0, -1))):
        with Locations((-10, 26)):
            Rectangle(SKETCH63_W, SKETCH63_H)
    extrude(amount=-CUT_EXTRUDE20_DEPTH, mode=Mode.SUBTRACT)

    # Sketch64 → Boss-Extrude38 (add)
    with BuildSketch(Plane(origin=(0, 0, -17.5), x_dir=(-1, 0, 0), z_dir=(0, 0, -1))):
        with Locations((-17, 27.25)):
            Rectangle(SKETCH64_W, SKETCH64_H)
    extrude(amount=BOSS_EXTRUDE38_DEPTH)

    # Sketch65 → Cut-Extrude22 (cut)
    with BuildSketch(Plane(origin=(0, 8, 0), x_dir=(1, 0, 0), z_dir=(0, 1, 0))):
        Polygon((-11, 27.5), (-11, 0), (0, 0), (0, 7.5), (0, 27.5), align=None)
        with BuildLine():
            ThreePointArc((5, 7.5), (5.732233047, 5.732233047), (7.5, 5))
            Line((7.5, 5), (7.5, 7.5))
            Line((7.5, 7.5), (5, 7.5))
        make_face()
        with BuildLine():
            Line((7.5, 7.5), (7.5, 5))
            ThreePointArc((7.5, 5), (9.267766953, 5.732233047), (10, 7.5))
            ThreePointArc((10, 7.5), (7.5, 10), (5, 7.5))
            Line((5, 7.5), (7.5, 7.5))
        make_face()
    extrude(amount=-CUT_EXTRUDE22_DEPTH, mode=Mode.SUBTRACT)

    # Fillet6
    fillet6_edges = [part_2.edges().sort_by_distance(p)[0] for p in [
        (0, 3.5, 0),
    ]]
    fillet(fillet6_edges, radius=FILLET6_R)

    # Sketch67 → Boss-Extrude39 (add, two sides: drawn at the far end of the back side and taken through both)
    with BuildSketch(Plane(origin=(55, 0, 0), x_dir=(0, 0, -1), z_dir=(1, 0, 0)).offset(-BOSS_EXTRUDE39_DEPTH_BACK)):
        with Locations((13.75, 3.5)):
            Rectangle(SKETCH67_W, SKETCH67_H)
    extrude(amount=BOSS_EXTRUDE39_DEPTH + BOSS_EXTRUDE39_DEPTH_BACK)

    # Sketch68 → Cut-Extrude23 (cut)
    with BuildSketch(Plane(origin=(0, 0, -41), x_dir=(-1, 0, 0), z_dir=(0, 0, -1))):
        with Locations((-2.5, 46.5)):
            Rectangle(SKETCH68_W, SKETCH68_H)
    extrude(amount=-CUT_EXTRUDE23_DEPTH, mode=Mode.SUBTRACT)

    # Sketch69 → Cut-Extrude24 (cut)
    with BuildSketch(Plane(origin=(0, 0, -24), x_dir=(-1, 0, 0), z_dir=(0, 0, -1))):
        with Locations((-2.5, 48.5)):
            Rectangle(SKETCH69_W, SKETCH69_H)
    extrude(amount=-CUT_EXTRUDE24_DEPTH, mode=Mode.SUBTRACT)

    # Sketch70 → Cut-Extrude25 (cut)
    with BuildSketch(Plane(origin=(0, 0, -24), x_dir=(-1, 0, 0), z_dir=(0, 0, -1))):
        Polygon((-17.5, 28), (-17.5, 26.5), (-7.5, 26.5), (-1.5, 26.5), (-1.5, 28), align=None)
        with Locations((-4.5, 25.25)):
            Rectangle(SKETCH70_W, SKETCH70_H)
    extrude(amount=-CUT_EXTRUDE25_DEPTH, mode=Mode.SUBTRACT)

    # Sketch71 → Boss-Extrude40 (add)
    with BuildSketch(Plane(origin=(0, 26.5, 0), x_dir=(1, 0, 0), z_dir=(0, 1, 0))):
        with Locations((27.5, 20.75)):
            Rectangle(SKETCH71_W, SKETCH71_H)
    extrude(amount=BOSS_EXTRUDE40_DEPTH)


solid = part_2.part
